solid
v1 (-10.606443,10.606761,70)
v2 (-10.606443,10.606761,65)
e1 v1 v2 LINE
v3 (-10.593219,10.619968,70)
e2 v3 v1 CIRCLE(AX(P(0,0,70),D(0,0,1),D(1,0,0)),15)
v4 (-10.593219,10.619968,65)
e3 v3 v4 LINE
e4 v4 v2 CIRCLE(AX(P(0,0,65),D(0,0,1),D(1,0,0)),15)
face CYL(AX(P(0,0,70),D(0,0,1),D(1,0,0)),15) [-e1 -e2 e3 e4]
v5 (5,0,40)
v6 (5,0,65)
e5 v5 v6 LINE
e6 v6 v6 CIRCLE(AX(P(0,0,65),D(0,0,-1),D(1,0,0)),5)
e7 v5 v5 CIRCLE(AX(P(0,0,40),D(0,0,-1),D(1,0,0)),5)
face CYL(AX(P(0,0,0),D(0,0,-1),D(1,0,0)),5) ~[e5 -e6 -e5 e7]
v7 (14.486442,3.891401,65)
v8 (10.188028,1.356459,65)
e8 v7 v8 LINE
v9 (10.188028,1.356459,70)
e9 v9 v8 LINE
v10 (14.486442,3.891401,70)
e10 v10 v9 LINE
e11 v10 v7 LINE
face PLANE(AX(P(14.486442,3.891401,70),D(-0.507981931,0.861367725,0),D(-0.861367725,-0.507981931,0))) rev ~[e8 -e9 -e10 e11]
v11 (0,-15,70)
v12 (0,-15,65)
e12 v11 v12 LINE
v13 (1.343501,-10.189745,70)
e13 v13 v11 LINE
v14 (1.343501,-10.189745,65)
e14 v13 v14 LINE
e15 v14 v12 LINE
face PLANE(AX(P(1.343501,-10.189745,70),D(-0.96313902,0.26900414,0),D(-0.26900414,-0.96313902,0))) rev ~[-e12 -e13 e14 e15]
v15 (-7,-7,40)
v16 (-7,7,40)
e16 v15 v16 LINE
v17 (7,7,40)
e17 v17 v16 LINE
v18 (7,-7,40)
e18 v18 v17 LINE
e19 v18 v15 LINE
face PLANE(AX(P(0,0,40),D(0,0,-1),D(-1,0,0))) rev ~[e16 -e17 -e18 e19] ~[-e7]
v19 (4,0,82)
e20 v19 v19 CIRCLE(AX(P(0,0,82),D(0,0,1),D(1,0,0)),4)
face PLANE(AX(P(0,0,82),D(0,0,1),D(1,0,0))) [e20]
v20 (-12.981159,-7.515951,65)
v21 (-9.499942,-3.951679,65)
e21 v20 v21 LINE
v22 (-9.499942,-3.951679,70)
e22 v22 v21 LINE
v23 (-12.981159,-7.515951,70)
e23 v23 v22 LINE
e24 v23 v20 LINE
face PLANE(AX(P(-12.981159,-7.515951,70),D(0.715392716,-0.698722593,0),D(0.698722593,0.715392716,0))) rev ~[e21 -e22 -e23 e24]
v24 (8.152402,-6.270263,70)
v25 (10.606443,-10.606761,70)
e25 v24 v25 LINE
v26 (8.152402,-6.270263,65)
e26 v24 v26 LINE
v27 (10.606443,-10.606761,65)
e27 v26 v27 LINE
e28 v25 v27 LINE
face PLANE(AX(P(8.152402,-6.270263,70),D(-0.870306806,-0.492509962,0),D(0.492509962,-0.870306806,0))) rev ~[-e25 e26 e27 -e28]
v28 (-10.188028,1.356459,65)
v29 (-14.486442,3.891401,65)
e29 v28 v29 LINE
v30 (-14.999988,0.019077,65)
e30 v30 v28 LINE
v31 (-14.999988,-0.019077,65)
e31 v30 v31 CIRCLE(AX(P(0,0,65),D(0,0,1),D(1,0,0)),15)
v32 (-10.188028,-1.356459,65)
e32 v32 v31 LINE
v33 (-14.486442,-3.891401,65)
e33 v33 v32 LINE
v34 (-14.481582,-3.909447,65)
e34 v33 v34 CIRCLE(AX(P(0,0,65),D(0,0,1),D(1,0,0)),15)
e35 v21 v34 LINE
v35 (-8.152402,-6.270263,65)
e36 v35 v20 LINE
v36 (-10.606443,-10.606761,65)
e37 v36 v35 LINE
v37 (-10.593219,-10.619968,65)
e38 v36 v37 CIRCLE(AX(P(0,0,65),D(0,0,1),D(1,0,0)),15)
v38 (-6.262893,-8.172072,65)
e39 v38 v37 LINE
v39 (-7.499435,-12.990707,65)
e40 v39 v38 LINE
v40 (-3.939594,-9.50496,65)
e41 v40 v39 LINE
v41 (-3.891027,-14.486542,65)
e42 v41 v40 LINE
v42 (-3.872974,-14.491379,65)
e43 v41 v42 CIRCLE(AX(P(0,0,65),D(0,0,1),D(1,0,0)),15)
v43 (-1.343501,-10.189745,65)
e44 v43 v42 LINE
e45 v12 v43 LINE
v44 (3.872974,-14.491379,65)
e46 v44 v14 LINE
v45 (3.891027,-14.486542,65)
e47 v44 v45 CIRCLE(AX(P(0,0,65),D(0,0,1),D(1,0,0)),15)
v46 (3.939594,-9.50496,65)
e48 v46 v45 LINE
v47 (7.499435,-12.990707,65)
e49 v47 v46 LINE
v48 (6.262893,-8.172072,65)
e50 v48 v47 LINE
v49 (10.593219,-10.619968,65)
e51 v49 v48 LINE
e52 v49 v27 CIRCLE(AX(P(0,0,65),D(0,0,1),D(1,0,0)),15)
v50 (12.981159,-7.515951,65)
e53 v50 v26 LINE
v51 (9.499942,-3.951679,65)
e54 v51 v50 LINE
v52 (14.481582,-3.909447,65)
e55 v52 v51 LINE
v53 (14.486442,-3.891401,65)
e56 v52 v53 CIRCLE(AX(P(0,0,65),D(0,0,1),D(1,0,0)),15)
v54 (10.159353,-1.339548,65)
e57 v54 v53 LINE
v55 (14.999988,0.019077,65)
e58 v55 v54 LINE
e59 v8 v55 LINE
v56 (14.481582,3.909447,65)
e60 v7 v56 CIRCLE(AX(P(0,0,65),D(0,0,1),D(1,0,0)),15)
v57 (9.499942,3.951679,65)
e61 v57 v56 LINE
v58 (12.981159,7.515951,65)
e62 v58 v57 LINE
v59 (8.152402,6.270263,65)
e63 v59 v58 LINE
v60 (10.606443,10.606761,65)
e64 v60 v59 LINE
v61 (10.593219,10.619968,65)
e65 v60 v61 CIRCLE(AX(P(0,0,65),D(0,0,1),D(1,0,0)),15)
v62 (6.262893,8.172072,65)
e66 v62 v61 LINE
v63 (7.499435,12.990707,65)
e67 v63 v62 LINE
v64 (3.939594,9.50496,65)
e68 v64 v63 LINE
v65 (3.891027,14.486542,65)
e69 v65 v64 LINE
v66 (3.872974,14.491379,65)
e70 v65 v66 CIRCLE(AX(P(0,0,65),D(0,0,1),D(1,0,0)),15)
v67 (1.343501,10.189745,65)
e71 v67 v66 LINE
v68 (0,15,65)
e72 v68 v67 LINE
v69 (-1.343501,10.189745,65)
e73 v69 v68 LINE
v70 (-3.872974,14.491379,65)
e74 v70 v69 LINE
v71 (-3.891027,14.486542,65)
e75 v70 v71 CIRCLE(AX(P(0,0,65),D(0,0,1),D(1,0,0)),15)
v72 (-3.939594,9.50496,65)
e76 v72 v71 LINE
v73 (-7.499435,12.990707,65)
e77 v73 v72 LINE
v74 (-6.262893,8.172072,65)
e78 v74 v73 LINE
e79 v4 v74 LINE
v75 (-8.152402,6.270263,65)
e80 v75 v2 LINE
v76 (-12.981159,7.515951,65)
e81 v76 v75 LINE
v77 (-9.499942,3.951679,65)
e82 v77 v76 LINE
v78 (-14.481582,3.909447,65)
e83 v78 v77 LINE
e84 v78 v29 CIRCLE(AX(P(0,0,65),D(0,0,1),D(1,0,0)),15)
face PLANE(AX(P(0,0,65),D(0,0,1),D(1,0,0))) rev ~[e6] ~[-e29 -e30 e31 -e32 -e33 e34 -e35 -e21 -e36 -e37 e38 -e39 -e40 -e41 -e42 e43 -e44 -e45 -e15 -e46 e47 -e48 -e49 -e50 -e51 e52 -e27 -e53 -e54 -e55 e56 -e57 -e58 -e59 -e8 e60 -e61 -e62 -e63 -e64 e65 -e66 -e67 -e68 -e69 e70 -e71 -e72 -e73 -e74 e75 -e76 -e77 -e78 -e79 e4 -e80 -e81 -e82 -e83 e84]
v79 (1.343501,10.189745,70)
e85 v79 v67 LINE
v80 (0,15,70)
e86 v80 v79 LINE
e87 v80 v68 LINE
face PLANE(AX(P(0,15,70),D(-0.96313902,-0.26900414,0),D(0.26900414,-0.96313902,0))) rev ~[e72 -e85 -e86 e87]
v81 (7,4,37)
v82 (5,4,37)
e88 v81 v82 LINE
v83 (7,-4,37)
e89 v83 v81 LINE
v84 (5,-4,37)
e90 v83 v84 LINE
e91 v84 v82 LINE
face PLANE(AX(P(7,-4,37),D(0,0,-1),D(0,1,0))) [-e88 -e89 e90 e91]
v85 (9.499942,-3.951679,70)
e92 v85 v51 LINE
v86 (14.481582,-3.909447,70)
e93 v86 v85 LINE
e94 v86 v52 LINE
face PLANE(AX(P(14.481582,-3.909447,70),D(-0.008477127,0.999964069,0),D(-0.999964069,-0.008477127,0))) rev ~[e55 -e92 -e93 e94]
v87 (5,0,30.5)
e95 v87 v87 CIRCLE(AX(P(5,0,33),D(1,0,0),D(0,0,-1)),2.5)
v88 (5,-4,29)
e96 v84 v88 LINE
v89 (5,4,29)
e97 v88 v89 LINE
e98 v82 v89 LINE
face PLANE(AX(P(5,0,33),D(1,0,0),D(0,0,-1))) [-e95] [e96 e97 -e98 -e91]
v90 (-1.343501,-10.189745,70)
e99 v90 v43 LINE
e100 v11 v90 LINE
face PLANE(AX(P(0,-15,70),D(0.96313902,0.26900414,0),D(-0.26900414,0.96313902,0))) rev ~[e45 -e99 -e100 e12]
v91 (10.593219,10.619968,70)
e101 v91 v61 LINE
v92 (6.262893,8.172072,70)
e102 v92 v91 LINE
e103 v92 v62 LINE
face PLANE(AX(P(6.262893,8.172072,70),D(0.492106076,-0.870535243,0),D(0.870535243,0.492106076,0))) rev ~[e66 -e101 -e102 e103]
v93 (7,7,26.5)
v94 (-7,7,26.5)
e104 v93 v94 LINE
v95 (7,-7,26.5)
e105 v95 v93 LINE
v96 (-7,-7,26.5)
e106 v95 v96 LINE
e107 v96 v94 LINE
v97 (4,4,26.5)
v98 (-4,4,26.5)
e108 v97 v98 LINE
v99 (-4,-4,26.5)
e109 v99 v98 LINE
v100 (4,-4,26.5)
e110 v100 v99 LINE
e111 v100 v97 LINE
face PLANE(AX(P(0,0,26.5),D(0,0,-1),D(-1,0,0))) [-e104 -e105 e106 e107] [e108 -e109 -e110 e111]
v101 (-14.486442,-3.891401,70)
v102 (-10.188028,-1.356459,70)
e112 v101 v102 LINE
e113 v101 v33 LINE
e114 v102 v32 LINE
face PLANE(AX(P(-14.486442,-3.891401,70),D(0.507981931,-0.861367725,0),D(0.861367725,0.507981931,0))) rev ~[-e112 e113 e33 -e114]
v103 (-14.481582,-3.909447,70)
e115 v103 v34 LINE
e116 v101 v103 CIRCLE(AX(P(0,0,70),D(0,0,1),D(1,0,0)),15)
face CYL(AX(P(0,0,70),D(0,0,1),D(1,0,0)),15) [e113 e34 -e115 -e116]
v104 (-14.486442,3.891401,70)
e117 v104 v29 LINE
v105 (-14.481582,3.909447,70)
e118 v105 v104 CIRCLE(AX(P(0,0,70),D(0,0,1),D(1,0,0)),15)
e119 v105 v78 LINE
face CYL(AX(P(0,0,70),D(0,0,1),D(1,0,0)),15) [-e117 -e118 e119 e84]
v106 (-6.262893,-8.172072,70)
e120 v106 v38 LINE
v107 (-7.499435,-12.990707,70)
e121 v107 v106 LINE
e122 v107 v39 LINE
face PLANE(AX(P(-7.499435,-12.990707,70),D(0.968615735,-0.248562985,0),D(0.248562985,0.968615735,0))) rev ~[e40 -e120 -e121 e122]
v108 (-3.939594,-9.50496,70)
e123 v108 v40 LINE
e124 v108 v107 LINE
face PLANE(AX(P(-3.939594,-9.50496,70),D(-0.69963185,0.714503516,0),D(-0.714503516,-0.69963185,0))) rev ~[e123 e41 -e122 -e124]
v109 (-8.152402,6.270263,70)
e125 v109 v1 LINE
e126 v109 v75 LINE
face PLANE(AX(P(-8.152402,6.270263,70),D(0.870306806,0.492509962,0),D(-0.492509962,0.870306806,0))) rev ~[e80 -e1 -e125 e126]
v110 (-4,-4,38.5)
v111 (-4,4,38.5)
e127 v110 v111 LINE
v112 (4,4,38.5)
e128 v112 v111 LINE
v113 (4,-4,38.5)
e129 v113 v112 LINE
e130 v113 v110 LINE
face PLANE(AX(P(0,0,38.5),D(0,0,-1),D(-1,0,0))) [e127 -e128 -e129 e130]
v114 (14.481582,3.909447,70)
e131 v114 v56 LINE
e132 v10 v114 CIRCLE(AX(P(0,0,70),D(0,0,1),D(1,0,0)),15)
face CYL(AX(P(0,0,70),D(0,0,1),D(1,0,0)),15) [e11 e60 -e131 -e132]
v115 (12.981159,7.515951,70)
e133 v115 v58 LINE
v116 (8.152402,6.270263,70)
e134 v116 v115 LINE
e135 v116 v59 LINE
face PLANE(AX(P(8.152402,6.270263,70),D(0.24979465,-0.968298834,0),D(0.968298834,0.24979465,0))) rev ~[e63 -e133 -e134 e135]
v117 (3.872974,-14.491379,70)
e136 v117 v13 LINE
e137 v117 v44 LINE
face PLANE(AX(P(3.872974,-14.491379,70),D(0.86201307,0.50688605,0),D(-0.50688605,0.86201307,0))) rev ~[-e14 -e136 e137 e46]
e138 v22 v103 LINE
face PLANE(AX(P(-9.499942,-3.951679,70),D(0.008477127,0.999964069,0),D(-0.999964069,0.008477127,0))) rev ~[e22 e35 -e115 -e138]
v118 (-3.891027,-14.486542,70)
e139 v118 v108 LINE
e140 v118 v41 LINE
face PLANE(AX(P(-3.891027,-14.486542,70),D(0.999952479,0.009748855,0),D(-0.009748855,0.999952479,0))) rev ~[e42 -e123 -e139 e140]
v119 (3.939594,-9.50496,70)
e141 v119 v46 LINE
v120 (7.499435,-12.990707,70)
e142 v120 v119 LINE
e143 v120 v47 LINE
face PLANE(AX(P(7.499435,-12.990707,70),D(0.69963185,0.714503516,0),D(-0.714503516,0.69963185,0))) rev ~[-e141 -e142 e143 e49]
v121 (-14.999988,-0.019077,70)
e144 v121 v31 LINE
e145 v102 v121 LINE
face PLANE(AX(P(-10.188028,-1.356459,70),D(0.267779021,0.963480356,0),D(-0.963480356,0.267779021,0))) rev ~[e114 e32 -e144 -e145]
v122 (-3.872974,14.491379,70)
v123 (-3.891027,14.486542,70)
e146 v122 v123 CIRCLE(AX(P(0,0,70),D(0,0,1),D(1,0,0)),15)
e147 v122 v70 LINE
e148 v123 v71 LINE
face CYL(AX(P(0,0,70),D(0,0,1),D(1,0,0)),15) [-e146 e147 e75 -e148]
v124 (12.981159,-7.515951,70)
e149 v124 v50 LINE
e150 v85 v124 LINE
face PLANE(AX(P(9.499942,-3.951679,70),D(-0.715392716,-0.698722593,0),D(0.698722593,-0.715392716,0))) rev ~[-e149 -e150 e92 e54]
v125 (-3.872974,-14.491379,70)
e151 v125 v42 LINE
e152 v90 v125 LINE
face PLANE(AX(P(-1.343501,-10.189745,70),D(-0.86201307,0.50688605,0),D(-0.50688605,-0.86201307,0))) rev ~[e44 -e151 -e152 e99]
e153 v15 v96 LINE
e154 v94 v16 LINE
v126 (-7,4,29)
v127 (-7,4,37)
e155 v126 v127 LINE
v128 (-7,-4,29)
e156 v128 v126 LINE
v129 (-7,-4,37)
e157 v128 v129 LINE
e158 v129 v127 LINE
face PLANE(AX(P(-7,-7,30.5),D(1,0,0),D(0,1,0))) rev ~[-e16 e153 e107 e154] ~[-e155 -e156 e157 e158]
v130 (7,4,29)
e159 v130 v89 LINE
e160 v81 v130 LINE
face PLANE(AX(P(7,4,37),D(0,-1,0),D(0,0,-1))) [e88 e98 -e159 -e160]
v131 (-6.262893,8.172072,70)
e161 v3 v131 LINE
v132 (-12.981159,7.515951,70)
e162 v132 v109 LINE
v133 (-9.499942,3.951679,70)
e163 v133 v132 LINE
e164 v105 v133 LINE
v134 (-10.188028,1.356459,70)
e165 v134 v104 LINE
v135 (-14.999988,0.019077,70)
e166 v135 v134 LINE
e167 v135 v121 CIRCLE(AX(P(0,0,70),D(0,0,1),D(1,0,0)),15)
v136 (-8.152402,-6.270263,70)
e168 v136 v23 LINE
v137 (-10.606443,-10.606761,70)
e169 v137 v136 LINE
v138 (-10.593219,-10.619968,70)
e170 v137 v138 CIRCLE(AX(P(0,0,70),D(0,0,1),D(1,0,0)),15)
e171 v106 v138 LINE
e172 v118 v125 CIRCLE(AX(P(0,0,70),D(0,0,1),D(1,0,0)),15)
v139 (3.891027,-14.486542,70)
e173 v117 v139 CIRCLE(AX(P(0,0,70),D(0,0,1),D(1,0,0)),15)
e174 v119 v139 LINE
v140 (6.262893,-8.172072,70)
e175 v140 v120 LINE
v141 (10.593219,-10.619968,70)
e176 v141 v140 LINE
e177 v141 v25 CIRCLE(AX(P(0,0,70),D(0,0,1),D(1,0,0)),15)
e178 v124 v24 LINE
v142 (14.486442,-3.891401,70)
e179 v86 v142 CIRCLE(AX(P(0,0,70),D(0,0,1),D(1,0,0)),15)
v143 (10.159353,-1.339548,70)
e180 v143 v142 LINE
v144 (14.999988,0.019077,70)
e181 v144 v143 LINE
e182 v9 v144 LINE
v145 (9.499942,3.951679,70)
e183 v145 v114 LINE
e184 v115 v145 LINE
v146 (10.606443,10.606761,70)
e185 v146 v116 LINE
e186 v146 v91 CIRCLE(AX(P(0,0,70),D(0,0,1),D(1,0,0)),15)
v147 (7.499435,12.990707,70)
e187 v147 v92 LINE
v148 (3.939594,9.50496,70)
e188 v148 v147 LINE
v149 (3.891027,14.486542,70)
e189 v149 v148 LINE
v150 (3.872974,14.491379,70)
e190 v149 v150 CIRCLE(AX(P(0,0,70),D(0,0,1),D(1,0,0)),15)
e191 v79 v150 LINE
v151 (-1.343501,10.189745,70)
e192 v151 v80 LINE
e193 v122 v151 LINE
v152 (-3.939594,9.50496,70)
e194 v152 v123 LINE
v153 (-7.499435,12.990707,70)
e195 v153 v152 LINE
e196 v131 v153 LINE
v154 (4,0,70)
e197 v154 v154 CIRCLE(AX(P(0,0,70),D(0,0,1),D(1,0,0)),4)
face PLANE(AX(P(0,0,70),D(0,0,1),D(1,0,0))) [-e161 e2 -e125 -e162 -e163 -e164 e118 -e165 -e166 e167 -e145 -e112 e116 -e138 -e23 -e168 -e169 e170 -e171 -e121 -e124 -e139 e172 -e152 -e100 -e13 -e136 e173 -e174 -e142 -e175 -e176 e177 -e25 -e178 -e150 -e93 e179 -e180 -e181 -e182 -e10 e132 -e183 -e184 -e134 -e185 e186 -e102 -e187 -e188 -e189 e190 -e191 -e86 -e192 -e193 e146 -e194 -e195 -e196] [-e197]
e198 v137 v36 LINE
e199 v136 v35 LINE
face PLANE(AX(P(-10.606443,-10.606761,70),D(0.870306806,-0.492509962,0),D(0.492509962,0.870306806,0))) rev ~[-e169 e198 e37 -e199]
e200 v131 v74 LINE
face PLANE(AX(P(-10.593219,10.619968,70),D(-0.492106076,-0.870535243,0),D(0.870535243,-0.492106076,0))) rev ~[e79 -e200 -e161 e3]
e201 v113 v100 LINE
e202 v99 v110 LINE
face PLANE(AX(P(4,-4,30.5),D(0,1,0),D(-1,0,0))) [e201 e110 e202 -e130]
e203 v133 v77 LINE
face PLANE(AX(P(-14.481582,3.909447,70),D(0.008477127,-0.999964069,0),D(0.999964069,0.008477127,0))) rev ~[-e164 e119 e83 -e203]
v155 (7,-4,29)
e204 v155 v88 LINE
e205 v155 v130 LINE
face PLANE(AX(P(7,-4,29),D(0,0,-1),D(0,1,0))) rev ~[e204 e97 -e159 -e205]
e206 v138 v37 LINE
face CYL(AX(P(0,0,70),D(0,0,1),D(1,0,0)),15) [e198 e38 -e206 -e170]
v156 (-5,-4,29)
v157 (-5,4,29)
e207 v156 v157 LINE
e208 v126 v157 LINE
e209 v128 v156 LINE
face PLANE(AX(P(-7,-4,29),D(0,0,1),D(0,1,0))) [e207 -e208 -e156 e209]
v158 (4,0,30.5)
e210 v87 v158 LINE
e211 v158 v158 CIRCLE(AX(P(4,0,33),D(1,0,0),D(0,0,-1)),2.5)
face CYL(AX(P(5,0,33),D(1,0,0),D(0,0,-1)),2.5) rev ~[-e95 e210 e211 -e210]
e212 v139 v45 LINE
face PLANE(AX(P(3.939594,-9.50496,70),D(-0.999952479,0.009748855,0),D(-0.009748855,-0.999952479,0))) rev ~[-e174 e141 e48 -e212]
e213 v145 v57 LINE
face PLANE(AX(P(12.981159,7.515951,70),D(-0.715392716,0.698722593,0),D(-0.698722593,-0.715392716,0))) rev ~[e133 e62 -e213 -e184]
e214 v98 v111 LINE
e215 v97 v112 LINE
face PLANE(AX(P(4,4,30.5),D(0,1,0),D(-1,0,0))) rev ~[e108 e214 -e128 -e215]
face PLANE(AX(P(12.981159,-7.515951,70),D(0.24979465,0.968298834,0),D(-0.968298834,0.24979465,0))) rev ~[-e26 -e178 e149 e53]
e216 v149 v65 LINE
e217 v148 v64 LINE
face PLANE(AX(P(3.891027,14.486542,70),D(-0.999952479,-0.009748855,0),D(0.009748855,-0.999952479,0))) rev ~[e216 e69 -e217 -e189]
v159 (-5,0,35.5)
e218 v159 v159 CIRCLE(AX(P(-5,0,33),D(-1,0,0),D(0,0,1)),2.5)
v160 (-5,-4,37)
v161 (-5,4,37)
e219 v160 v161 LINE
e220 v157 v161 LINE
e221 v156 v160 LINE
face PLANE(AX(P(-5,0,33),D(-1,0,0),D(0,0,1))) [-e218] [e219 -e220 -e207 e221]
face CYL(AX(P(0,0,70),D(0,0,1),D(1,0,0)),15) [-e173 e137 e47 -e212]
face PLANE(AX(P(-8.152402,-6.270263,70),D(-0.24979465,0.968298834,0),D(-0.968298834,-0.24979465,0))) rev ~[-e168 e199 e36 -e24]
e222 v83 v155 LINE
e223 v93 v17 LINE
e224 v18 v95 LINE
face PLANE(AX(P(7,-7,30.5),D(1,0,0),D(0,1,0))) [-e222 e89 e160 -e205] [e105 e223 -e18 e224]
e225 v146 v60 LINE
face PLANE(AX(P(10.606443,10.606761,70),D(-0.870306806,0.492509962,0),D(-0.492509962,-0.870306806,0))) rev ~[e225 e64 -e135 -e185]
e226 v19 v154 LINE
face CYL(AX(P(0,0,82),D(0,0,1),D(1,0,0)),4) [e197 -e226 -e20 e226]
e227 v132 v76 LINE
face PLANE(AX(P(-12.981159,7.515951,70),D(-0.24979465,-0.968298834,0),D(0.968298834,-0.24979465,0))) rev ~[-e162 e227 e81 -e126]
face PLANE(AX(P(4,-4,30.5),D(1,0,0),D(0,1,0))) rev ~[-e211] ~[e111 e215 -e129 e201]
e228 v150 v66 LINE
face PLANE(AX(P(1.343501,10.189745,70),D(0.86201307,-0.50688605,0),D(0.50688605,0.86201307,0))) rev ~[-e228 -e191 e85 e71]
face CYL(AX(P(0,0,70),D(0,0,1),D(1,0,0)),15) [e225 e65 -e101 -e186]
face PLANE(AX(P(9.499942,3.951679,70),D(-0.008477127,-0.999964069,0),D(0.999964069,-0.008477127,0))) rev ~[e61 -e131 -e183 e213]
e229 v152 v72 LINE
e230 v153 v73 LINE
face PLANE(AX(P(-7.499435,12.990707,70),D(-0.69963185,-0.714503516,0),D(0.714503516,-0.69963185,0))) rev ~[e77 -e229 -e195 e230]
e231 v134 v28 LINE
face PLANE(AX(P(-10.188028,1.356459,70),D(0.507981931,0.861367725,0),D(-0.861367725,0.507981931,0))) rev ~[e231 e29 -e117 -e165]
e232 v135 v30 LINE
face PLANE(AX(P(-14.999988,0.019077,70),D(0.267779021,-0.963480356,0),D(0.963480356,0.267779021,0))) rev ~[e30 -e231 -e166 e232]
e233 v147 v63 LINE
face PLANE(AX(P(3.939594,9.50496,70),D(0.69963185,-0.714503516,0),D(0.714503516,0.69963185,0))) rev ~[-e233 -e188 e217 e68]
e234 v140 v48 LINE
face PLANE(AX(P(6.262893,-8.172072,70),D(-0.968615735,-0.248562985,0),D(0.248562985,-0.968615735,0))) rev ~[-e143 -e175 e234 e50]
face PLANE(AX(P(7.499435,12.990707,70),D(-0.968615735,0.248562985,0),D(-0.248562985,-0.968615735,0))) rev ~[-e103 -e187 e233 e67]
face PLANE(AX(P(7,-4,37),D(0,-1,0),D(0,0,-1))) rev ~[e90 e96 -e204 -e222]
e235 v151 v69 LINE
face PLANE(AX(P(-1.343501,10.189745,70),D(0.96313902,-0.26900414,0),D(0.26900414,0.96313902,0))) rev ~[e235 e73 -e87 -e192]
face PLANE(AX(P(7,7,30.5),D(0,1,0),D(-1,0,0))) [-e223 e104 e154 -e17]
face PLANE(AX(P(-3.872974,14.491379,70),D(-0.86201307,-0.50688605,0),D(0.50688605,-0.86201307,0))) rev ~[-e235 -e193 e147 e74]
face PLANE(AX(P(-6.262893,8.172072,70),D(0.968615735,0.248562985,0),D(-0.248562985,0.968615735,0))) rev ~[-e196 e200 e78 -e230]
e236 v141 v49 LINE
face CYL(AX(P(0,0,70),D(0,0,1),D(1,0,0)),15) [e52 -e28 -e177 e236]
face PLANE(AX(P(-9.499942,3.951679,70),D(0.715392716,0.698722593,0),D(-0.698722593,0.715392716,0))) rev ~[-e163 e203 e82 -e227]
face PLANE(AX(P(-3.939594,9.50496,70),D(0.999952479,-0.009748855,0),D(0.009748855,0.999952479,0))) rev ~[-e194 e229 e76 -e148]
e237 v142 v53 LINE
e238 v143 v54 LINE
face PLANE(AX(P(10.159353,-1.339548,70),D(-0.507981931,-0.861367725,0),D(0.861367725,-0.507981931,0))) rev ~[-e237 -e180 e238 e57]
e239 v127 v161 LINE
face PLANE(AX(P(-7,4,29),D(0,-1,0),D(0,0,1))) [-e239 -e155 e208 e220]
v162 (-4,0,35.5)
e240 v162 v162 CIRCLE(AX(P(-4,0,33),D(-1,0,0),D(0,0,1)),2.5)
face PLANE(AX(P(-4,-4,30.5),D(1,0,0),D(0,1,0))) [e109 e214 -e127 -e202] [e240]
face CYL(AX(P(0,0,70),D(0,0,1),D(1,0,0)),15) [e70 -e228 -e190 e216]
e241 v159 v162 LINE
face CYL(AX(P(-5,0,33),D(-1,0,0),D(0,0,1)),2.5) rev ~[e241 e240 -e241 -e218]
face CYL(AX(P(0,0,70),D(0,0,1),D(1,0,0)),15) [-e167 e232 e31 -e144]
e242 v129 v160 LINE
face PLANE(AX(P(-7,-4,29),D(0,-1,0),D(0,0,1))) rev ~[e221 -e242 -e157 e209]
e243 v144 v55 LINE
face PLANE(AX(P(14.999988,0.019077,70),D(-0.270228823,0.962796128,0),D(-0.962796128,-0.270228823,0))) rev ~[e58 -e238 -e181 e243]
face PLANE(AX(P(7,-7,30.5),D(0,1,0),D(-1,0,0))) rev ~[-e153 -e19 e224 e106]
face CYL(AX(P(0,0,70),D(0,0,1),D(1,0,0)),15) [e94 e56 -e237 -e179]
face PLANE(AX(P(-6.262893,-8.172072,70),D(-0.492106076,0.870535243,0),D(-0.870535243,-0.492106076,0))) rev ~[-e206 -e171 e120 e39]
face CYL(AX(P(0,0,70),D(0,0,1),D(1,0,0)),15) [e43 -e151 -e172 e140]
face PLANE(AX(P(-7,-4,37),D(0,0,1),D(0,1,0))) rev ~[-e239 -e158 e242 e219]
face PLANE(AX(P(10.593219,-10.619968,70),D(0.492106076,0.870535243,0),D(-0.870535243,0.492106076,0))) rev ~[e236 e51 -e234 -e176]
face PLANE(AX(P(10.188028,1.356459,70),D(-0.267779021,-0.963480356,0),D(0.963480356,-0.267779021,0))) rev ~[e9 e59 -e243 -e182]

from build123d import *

# Parameters (mm, degrees)
ESQUISSE1_R             = 5
BOSS_EXTRU_2_DEPTH      = 70
ESQUISSE2_R             = 3.5
BOSS_EXTRU_3_DEPTH      = 12
ESQUISSE4_R             = 15
BOSS_EXTRU_5_DEPTH      = 5
ESQUISSE5_R             = 3.5
BOSS_EXTRU_6_DEPTH      = 12
ENL_V_MAT_EXTRU_1_DEPTH = 12
ESQUISSE7_R             = 5
ENL_V_MAT_EXTRU_2_DEPTH = 47
ESQUISSE8_W             = 14
ESQUISSE8_H             = 14
BOSS_EXTRU_7_DEPTH      = 5
ESQUISSE9_W             = 14
ESQUISSE9_H             = 14
ESQUISSE9_W_2           = 8
ESQUISSE9_H_2           = 8
BOSS_EXTRU_8_DEPTH      = 4.5
ESQUISSE10_W            = 8
ESQUISSE10_H            = 8
ENL_V_MAT_EXTRU_3_DEPTH = 3.5
ESQUISSE12_W            = 14
ESQUISSE12_H            = 14
ESQUISSE12_W_2          = 8
ESQUISSE12_H_2          = 8
BOSS_EXTRU_9_DEPTH      = 4
ESQUISSE14_W            = 8
ESQUISSE14_H            = 8
ENL_V_MAT_EXTRU_4_DEPTH = 2
ESQUISSE15_R            = 2.5
ENL_V_MAT_EXTRU_5_DEPTH = 2
ESQUISSE16_W            = 8
ESQUISSE16_H            = 8
ENL_V_MAT_EXTRU_6_DEPTH = 2
ESQUISSE17_R            = 2.5
ENL_V_MAT_EXTRU_7_DEPTH = 2
ESQUISSE18_R            = 4
BOSS_EXTRU_10_DEPTH     = 12


with BuildPart() as part:
    # Esquisse1 → Boss.-Extru.2 (new body)
    with BuildSketch(Plane.XY):
        Circle(ESQUISSE1_R)
    extrude(amount=BOSS_EXTRU_2_DEPTH)

    # Esquisse2 → Boss.-Extru.3 (add)
    with BuildSketch(Plane(origin=(0, 0, 0), x_dir=(-1, 0, 0), z_dir=(0, 0, -1))):
        Circle(ESQUISSE2_R)
    extrude(amount=BOSS_EXTRU_3_DEPTH)

    # Esquisse4 → Boss.-Extru.5 (add)
    with BuildSketch(Plane.XY.offset(70)):
        Circle(ESQUISSE4_R)
    extrude(amount=-BOSS_EXTRU_5_DEPTH)

    # Esquisse5 → Boss.-Extru.6 (add)
    with BuildSketch(Plane.XY.offset(70)):
        Circle(ESQUISSE5_R)
    extrude(amount=BOSS_EXTRU_6_DEPTH)

    # Esquisse6 → Enlèv. mat.-Extru.1 (cut)
    with BuildSketch(Plane.XY.offset(70)):
        with BuildLine():
            Line((-6.262893089, 8.172072336), (-7.499435292, 12.990707074))
            ThreePointArc((-7.499435292, 12.990707074), (-9.123657799, 11.90625333), (-10.593218546, 10.619968024))
            Line((-10.593218546, 10.619968024), (-6.262893089, 8.172072336))
        make_face()
        with BuildLine():
            Line((-8.152402023, 6.270263162), (-10.606442664, 10.606760769))
            ThreePointArc((-10.606442664, 10.606760769), (-11.894621233, 9.138817524), (-12.981158937, 7.515950549))
            Line((-12.981158937, 7.515950549), (-8.152402023, 6.270263162))
        make_face()
        with BuildLine():
            Line((-9.499942261, 3.951679007), (-12.981158937, 7.515950549))
            ThreePointArc((-12.981158937, 7.515950549), (-13.849269023, 5.761748652), (-14.481582106, 3.909447494))
            Line((-14.481582106, 3.909447494), (-9.499942261, 3.951679007))
        make_face()
        with BuildLine():
            Line((-10.188028074, 1.356459322), (-14.486441985, 3.891400598))
            ThreePointArc((-14.486441985, 3.891400598), (-14.869805294, 1.972027008), (-14.999987869, 0.0190767))
            Line((-14.999987869, 0.0190767), (-10.188028074, 1.356459322))
        make_face()
        with BuildLine():
            ThreePointArc((-14.999987869, -0.0190767), (-14.869805294, -1.972027008), (-14.486441985, -3.891400598))
            Line((-14.486441985, -3.891400598), (-10.188028074, -1.356459322))
            Line((-10.188028074, -1.356459322), (-14.999987869, -0.0190767))
        make_face()
        with BuildLine():
            Line((-9.499942261, -3.951679007), (-14.481582106, -3.909447494))
            ThreePointArc((-14.481582106, -3.909447494), (-13.849269023, -5.761748652), (-12.981158937, -7.515950549))
            Line((-12.981158937, -7.515950549), (-9.499942261, -3.951679007))
        make_face()
        with BuildLine():
            Line((-8.152402023, -6.270263162), (-12.981158937, -7.515950549))
            ThreePointArc((-12.981158937, -7.515950549), (-11.894621233, -9.138817524), (-10.606442664, -10.606760769))
            Line((-10.606442664, -10.606760769), (-8.152402023, -6.270263162))
        make_face()
        with BuildLine():
            Line((-6.262893089, -8.172072336), (-10.593218546, -10.619968024))
            ThreePointArc((-10.593218546, -10.619968024), (-9.123657799, -11.90625333), (-7.499435292, -12.990707074))
            Line((-7.499435292, -12.990707074), (-6.262893089, -8.172072336))
        make_face()
        with BuildLine():
            Line((-3.939593974, -9.504960245), (-7.499435292, -12.990707074))
            ThreePointArc((-7.499435292, -12.990707074), (-5.744130769, -13.8565855), (-3.891026946, -14.486542352))
            Line((-3.891026946, -14.486542352), (-3.939593974, -9.504960245))
        make_face()
        with BuildLine():
            Line((-1.343501295, -10.189744953), (-3.872973884, -14.491379275))
            ThreePointArc((-3.872973884, -14.491379275), (-1.953114292, -14.872301253), (0, -15))
            Line((0, -15), (-1.343501295, -10.189744953))
        make_face()
        with BuildLine():
            ThreePointArc((0, -15), (1.953114292, -14.872301253), (3.872973884, -14.491379275))
            Line((3.872973884, -14.491379275), (1.343501295, -10.189744953))
            Line((1.343501295, -10.189744953), (0, -15))
        make_face()
        with BuildLine():
            ThreePointArc((3.891026946, -14.486542352), (5.744130769, -13.8565855), (7.499435292, -12.990707074))
            Line((7.499435292, -12.990707074), (3.939593974, -9.504960245))
            Line((3.939593974, -9.504960245), (3.891026946, -14.486542352))
        make_face()
        with BuildLine():
            ThreePointArc((7.499435292, -12.990707074), (9.123657799, -11.90625333), (10.593218546, -10.619968024))
            Line((10.593218546, -10.619968024), (6.262893089, -8.172072336))
            Line((6.262893089, -8.172072336), (7.499435292, -12.990707074))
        make_face()
        with BuildLine():
            ThreePointArc((10.606442664, -10.606760769), (11.894621233, -9.138817524), (12.981158937, -7.515950549))
            Line((12.981158937, -7.515950549), (8.152402023, -6.270263162))
            Line((8.152402023, -6.270263162), (10.606442664, -10.606760769))
        make_face()
        with BuildLine():
            ThreePointArc((12.981158937, -7.515950549), (13.849269023, -5.761748652), (14.481582106, -3.909447494))
            Line((14.481582106, -3.909447494), (9.499942261, -3.951679007))
            Line((9.499942261, -3.951679007), (12.981158937, -7.515950549))
        make_face()
        with BuildLine():
            ThreePointArc((15, 0), (14.999996967, 0.009538352), (14.999987869, 0.0190767))
            Line((14.999987869, 0.0190767), (10.159352957, -1.339548494))
            Line((10.159352957, -1.339548494), (14.486441985, -3.891400598))
            ThreePointArc((14.486441985, -3.891400598), (14.87105628, -1.962571047), (15, 0))
        make_face()
        with BuildLine():
            ThreePointArc((14.999987869, 0.0190767), (14.869805294, 1.972027008), (14.486441985, 3.891400598))
            Line((14.486441985, 3.891400598), (10.188028074, 1.356459322))
            Line((10.188028074, 1.356459322), (14.999987869, 0.0190767))
        make_face()
        with BuildLine():
            ThreePointArc((14.481582106, 3.909447494), (13.849269023, 5.761748652), (12.981158937, 7.515950549))
            Line((12.981158937, 7.515950549), (9.499942261, 3.951679007))
            Line((9.499942261, 3.951679007), (14.481582106, 3.909447494))
        make_face()
        with BuildLine():
            ThreePointArc((12.981158937, 7.515950549), (11.894621233, 9.138817524), (10.606442664, 10.606760769))
            Line((10.606442664, 10.606760769), (8.152402023, 6.270263162))
            Line((8.152402023, 6.270263162), (12.981158937, 7.515950549))
        make_face()
        with BuildLine():
            ThreePointArc((10.593218546, 10.619968024), (9.123657799, 11.90625333), (7.499435292, 12.990707074))
            Line((7.499435292, 12.990707074), (6.262893089, 8.172072336))
            Line((6.262893089, 8.172072336), (10.593218546, 10.619968024))
        make_face()
        with BuildLine():
            ThreePointArc((7.499435292, 12.990707074), (5.744130769, 13.8565855), (3.891026946, 14.486542352))
            Line((3.891026946, 14.486542352), (3.939593974, 9.504960245))
            Line((3.939593974, 9.504960245), (7.499435292, 12.990707074))
        make_face()
        with BuildLine():
            ThreePointArc((3.872973884, 14.491379275), (1.953114292, 14.872301253), (0, 15))
            Line((0, 15), (1.343501295, 10.189744953))
            Line((1.343501295, 10.189744953), (3.872973884, 14.491379275))
        make_face()
        with BuildLine():
            Line((-1.343501295, 10.189744953), (0, 15))
            ThreePointArc((0, 15), (-1.953114292, 14.872301253), (-3.872973884, 14.491379275))
            Line((-3.872973884, 14.491379275), (-1.343501295, 10.189744953))
        make_face()
        with BuildLine():
            Line((-3.939593974, 9.504960245), (-3.891026946, 14.486542352))
            ThreePointArc((-3.891026946, 14.486542352), (-5.744130769, 13.8565855), (-7.499435292, 12.990707074))
            Line((-7.499435292, 12.990707074), (-3.939593974, 9.504960245))
        make_face()
    extrude(amount=-ENL_V_MAT_EXTRU_1_DEPTH, mode=Mode.SUBTRACT)

    # Esquisse7 → Enlèv. mat.-Extru.2 (cut)
    with BuildSketch(Plane(origin=(0, 0, -12), x_dir=(-1, 0, 0), z_dir=(0, 0, -1))):
        Circle(ESQUISSE7_R)
    extrude(amount=-ENL_V_MAT_EXTRU_2_DEPTH, mode=Mode.SUBTRACT)

    # Esquisse8 → Boss.-Extru.7 (add)
    with BuildSketch(Plane(origin=(0, 0, 35), x_dir=(-1, 0, 0), z_dir=(0, 0, -1))):
        Rectangle(ESQUISSE8_W, ESQUISSE8_H)
    extrude(amount=-BOSS_EXTRU_7_DEPTH)

    # Esquisse9 → Boss.-Extru.8 (add)
    with BuildSketch(Plane(origin=(0, 0, 35), x_dir=(-1, 0, 0), z_dir=(0, 0, -1))):
        Rectangle(ESQUISSE9_W, ESQUISSE9_H)
        Rectangle(ESQUISSE9_W_2, ESQUISSE9_H_2, mode=Mode.SUBTRACT)
    extrude(amount=BOSS_EXTRU_8_DEPTH)

    # Esquisse10 → Enlèv. mat.-Extru.3 (cut)
    with BuildSketch(Plane(origin=(0, 0, 35), x_dir=(-1, 0, 0), z_dir=(0, 0, -1))):
        Rectangle(ESQUISSE10_W, ESQUISSE10_H)
    extrude(amount=-ENL_V_MAT_EXTRU_3_DEPTH, mode=Mode.SUBTRACT)

    # Esquisse12 → Boss.-Extru.9 (add)
    with BuildSketch(Plane(origin=(0, 0, 30.5), x_dir=(-1, 0, 0), z_dir=(0, 0, -1))):
        Rectangle(ESQUISSE12_W, ESQUISSE12_H)
        Rectangle(ESQUISSE12_W_2, ESQUISSE12_H_2, mode=Mode.SUBTRACT)
    extrude(amount=BOSS_EXTRU_9_DEPTH)

    # Esquisse14 → Enlèv. mat.-Extru.4 (cut)
    with BuildSketch(Plane.ZY.offset(7)):
        with Locations((33, 0)):
            Rectangle(ESQUISSE14_W, ESQUISSE14_H)
    extrude(amount=-ENL_V_MAT_EXTRU_4_DEPTH, mode=Mode.SUBTRACT)

    # Esquisse15 → Enlèv. mat.-Extru.5 (cut)
    with BuildSketch(Plane.ZY.offset(5)):
        with Locations((33, 0)):
            Circle(ESQUISSE15_R)
    extrude(amount=-ENL_V_MAT_EXTRU_5_DEPTH, mode=Mode.SUBTRACT)

    # Esquisse16 → Enlèv. mat.-Extru.6 (cut)
    with BuildSketch(Plane(origin=(7, 0, 0), x_dir=(0, 0, -1), z_dir=(1, 0, 0))):
        with Locations((-33, 0)):
            Rectangle(ESQUISSE16_W, ESQUISSE16_H)
    extrude(amount=-ENL_V_MAT_EXTRU_6_DEPTH, mode=Mode.SUBTRACT)

    # Esquisse17 → Enlèv. mat.-Extru.7 (cut)
    with BuildSketch(Plane(origin=(5, 0, 0), x_dir=(0, 0, -1), z_dir=(1, 0, 0))):
        with Locations((-33, 0)):
            Circle(ESQUISSE17_R)
    extrude(amount=-ENL_V_MAT_EXTRU_7_DEPTH, mode=Mode.SUBTRACT)

    # Esquisse18 → Boss.-Extru.10 (add)
    with BuildSketch(Plane.XY.offset(82)):
        Circle(ESQUISSE18_R)
    extrude(amount=-BOSS_EXTRU_10_DEPTH)


solid = part.part
